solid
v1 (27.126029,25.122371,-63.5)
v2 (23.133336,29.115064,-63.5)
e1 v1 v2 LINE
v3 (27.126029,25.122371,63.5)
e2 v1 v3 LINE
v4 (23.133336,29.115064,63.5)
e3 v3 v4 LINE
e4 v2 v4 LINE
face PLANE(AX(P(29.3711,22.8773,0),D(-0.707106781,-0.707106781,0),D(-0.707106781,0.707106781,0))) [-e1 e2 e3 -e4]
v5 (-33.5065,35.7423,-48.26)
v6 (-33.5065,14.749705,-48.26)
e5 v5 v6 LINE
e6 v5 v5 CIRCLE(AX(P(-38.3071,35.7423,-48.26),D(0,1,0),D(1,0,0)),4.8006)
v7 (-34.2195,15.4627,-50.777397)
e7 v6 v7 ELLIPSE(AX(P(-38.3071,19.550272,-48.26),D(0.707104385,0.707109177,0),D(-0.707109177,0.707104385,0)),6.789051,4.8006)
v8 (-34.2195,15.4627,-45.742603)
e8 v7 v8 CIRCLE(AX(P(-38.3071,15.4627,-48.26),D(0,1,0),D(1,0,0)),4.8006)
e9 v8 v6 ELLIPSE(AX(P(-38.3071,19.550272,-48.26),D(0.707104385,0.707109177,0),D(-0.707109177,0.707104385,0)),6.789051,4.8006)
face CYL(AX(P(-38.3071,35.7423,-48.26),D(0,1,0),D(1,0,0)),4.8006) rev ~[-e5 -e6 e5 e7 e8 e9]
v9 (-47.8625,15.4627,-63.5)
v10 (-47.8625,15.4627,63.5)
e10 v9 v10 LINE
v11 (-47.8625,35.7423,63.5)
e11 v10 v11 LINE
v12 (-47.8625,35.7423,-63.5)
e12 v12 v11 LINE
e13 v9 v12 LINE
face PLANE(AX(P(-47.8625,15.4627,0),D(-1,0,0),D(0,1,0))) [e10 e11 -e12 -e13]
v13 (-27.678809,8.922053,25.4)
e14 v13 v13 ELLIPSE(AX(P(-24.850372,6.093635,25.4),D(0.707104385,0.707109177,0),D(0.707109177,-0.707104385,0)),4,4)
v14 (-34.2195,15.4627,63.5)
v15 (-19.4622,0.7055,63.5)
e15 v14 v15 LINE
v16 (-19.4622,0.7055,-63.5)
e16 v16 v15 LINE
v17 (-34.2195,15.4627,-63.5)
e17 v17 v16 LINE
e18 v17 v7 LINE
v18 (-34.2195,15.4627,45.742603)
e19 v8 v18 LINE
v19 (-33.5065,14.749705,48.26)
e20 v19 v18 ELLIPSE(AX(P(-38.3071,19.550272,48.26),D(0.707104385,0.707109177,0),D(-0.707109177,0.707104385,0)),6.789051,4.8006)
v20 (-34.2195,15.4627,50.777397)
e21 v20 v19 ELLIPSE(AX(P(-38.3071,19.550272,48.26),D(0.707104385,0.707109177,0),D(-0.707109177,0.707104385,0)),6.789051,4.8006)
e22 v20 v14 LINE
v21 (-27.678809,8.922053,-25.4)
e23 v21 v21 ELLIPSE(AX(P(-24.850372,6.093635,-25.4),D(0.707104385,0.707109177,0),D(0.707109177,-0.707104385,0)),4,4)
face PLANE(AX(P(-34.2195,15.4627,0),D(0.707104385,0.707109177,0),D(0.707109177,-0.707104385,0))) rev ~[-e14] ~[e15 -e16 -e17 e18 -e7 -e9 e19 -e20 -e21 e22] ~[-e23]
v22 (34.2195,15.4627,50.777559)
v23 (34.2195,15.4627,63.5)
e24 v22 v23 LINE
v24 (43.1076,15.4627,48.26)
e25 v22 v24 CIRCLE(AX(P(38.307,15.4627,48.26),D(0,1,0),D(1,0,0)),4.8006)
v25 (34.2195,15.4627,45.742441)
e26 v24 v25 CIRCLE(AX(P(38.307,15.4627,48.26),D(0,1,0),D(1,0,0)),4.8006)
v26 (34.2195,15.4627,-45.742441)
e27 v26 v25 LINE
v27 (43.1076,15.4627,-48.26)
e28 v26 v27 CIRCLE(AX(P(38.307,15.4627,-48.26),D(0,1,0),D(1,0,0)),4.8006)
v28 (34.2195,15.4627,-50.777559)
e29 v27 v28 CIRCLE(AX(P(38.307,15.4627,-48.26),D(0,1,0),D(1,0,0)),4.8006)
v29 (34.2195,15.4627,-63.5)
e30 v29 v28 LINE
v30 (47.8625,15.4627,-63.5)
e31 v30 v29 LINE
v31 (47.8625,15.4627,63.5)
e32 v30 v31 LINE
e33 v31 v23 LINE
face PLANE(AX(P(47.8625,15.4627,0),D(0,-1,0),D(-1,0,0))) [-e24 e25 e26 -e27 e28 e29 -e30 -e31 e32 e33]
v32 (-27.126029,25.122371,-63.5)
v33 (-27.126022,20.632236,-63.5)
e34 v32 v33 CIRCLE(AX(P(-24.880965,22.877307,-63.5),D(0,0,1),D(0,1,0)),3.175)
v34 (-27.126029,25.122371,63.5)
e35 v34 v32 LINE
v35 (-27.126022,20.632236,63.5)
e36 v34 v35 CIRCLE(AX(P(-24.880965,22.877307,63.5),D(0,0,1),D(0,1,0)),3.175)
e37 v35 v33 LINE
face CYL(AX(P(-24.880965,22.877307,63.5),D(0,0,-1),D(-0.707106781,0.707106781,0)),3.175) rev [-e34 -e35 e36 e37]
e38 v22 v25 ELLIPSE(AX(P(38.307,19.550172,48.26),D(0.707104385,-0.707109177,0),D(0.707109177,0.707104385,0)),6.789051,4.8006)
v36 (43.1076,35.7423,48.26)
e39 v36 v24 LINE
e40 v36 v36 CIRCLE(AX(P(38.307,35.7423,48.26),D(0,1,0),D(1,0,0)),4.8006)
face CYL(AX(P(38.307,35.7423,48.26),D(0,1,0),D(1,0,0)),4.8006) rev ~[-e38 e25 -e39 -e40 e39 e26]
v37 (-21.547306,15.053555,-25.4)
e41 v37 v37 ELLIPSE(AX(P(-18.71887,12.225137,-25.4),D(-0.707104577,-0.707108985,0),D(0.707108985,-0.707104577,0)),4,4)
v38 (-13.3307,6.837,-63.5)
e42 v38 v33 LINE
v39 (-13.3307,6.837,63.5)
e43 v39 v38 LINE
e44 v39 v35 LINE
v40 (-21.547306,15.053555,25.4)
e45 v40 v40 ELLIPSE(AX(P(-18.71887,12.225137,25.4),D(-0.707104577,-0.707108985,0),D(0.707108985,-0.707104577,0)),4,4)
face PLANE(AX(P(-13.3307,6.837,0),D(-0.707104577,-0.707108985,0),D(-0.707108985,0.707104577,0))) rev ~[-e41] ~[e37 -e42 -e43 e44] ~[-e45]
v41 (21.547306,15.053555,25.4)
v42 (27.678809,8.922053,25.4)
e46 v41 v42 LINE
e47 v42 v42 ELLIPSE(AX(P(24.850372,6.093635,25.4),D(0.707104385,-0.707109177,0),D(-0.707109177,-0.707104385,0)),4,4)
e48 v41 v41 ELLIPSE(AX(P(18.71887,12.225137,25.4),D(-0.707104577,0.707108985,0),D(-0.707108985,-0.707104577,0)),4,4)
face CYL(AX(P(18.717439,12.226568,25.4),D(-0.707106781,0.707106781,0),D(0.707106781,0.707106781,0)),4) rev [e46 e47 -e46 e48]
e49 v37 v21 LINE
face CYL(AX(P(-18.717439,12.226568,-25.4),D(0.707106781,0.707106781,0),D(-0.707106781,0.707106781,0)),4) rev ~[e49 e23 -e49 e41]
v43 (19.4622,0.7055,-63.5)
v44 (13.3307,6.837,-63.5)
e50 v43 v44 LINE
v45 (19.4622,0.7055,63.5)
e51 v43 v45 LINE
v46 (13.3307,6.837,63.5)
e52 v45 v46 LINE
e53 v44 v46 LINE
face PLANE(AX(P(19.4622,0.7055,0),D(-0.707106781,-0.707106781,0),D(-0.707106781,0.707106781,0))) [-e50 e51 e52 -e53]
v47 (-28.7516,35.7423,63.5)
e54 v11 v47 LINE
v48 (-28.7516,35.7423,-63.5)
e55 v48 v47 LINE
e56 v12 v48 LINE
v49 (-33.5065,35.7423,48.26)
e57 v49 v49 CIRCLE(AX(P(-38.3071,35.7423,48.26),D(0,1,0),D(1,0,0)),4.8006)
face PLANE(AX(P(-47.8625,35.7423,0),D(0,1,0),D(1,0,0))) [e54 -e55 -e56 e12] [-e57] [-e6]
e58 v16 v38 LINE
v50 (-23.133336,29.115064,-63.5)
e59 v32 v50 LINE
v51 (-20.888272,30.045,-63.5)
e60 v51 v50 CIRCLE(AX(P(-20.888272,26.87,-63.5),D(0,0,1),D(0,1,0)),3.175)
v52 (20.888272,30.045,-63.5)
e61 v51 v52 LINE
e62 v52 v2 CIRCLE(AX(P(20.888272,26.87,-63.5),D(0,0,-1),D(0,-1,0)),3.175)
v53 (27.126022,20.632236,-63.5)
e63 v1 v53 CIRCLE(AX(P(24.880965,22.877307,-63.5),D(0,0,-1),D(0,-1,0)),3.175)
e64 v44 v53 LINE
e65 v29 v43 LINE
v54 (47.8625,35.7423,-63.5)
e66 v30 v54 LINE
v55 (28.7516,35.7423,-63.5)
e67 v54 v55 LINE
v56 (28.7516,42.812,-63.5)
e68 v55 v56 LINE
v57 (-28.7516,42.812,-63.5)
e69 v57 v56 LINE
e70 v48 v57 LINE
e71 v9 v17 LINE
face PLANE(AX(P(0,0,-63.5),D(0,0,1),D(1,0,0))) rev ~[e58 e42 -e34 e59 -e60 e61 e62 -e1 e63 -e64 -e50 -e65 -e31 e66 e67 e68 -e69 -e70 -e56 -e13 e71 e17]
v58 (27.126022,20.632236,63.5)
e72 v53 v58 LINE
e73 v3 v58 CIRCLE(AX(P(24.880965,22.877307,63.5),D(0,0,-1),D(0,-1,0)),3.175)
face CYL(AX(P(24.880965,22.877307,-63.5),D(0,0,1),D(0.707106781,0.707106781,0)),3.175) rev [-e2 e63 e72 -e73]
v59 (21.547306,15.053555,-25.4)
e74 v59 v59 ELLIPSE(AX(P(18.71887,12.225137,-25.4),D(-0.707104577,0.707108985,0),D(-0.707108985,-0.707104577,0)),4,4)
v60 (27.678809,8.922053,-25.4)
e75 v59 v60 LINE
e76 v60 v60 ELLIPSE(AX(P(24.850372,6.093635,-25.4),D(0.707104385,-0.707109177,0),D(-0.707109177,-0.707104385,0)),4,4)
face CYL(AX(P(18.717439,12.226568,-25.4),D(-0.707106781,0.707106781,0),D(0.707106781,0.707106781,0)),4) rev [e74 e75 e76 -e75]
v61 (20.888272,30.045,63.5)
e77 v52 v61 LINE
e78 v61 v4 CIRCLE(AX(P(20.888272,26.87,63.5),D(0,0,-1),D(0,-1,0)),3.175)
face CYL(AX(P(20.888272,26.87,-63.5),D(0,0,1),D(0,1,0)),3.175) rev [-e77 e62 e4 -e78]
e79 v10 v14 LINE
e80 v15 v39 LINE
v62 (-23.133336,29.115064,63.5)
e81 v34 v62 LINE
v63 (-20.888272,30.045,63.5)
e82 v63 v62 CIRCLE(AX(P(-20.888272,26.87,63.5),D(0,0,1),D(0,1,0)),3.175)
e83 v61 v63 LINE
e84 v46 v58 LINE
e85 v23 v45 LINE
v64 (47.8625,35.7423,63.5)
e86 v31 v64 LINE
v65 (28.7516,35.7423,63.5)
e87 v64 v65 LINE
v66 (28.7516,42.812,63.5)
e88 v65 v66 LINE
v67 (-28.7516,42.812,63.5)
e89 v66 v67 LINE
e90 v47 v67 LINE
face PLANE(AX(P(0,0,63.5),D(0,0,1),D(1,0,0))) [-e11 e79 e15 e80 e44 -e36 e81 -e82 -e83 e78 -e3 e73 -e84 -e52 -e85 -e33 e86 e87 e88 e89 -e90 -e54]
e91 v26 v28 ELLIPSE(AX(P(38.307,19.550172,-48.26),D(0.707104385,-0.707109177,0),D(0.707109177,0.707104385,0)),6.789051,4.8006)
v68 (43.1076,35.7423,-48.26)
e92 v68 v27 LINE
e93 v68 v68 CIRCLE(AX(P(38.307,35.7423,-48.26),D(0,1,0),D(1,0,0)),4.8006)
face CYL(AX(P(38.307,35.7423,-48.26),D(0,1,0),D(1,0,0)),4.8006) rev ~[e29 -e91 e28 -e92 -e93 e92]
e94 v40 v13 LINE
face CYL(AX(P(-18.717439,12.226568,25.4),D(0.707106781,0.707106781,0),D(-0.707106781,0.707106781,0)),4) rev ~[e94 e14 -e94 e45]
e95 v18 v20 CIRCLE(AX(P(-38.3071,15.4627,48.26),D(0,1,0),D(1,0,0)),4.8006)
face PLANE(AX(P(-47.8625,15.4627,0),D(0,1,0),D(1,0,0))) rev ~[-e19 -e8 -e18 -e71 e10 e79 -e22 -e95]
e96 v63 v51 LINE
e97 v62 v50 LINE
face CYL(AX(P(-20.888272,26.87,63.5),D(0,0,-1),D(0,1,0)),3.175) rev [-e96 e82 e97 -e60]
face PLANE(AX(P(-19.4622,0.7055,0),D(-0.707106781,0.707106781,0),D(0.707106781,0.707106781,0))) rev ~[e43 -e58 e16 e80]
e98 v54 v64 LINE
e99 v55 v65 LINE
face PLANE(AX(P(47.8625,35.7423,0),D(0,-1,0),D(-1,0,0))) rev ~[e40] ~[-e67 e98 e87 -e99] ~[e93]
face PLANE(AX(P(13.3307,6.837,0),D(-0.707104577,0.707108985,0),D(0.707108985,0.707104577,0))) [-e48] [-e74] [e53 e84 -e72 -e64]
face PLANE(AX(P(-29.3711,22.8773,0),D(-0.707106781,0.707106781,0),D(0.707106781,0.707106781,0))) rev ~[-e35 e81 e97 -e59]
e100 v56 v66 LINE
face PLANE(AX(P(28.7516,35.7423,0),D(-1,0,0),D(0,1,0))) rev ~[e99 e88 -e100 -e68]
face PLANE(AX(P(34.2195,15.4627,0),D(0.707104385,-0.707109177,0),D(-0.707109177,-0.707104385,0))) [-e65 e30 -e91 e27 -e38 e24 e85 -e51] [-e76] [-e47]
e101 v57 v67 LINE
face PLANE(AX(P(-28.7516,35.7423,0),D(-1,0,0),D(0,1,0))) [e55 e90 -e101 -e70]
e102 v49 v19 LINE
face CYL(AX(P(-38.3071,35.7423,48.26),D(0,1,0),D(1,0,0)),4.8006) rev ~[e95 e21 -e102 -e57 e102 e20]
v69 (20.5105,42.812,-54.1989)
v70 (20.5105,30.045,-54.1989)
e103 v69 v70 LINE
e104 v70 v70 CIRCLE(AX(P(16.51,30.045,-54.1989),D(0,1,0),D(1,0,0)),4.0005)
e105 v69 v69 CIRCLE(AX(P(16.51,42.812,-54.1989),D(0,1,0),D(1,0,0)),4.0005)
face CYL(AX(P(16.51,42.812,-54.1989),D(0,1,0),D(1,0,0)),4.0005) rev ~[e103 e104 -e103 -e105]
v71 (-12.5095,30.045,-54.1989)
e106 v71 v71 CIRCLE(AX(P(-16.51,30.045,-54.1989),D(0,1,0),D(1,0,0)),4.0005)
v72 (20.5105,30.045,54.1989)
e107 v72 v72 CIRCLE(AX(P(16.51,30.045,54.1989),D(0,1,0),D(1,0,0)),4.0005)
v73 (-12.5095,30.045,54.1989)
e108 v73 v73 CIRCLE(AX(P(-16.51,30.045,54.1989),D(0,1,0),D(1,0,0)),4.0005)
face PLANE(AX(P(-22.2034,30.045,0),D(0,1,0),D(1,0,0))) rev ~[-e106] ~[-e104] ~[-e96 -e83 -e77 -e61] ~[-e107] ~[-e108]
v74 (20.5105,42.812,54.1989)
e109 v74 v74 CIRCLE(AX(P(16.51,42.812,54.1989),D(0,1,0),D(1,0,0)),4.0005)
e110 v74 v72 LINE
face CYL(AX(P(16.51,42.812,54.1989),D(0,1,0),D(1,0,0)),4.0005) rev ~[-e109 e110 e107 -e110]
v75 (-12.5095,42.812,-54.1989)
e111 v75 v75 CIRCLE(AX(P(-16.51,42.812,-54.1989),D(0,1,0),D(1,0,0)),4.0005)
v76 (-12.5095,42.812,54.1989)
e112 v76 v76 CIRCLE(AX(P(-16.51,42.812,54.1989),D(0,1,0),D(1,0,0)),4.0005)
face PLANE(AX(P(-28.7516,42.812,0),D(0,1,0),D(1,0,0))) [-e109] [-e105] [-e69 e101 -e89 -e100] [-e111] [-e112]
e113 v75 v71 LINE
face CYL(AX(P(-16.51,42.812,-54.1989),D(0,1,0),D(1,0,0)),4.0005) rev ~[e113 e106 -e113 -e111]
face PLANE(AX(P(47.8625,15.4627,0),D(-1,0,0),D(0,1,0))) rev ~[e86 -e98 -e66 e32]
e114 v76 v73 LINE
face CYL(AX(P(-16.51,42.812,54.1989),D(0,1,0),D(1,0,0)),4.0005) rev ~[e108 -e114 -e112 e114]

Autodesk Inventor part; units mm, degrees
ref_plane "Work Plane3" through (0, 0, 48.26) normal (0, 0, 1) x (1, 0, 0)
ref_plane "Work Plane4" through (0, 15.4627, 63.5) normal (-1, 0, 0) x (0, 0, 1)
sketch "Sketch1" plane through (0, 0, 0) normal (0, 0, 1) x (1, 0, 0)
  line L0 (0, 17.9605) -> (17.9605, 0) construction
  line L1 (17.9605, 0) -> (0, -17.9605) construction
  line L2 (0, -17.9605) -> (-17.9605, 0) construction
  line L3 (-17.9605, 0) -> (0, 17.9605) construction
  line L4 (0, 17.9605) -> (0, -17.9605) construction
  line L5 (17.9605, 0) -> (-17.9605, 0) construction
  line L6 (0, -37.7234) -> (0, 100.617) projected
  line L7 (-27.2882, 23.4644) -> (-11.7319, 7.908) construction
  line L8 (-11.7319, 7.908) -> (-6.7821, 12.8578) construction
  line L9 (-6.7821, 12.8578) -> (-22.3385, 28.4141) construction
  line L10 (-27.2882, 23.4644) -> (-22.3385, 28.4141) construction
  line L11 (27.2882, 23.4644) -> (11.7319, 7.908) construction
  line L12 (11.7319, 7.908) -> (6.7821, 12.8578) construction
  line L13 (6.7821, 12.8578) -> (22.3385, 28.4141) construction
  line L14 (27.2882, 23.4644) -> (22.3385, 28.4141) construction
  line L15 (-13.3307, 6.837) -> (-29.3711, 22.8773)
  line L16 (-29.3711, 22.8773) -> (-22.2034, 30.045)
  line L17 (-22.2034, 30.045) -> (0, 30.045)
  line L18 (-47.8625, 35.7423) -> (-28.7516, 35.7423)
  line L19 (-28.7516, 35.7423) -> (-28.7516, 42.812)
  line L20 (-28.7516, 42.812) -> (0, 42.812)
  line L21 (-47.8625, 15.4627) -> (-47.8625, 35.7423)
  line L22 (-47.8625, 15.4627) -> (-34.2195, 15.4627)
  line L23 (-34.2195, 15.4627) -> (-19.4622, 0.7055)
  line L24 (-19.4622, 0.7055) -> (-13.3307, 6.837)
  line L25 (13.3307, 6.837) -> (29.3711, 22.8773)
  line L26 (29.3711, 22.8773) -> (22.2034, 30.045)
  line L27 (22.2034, 30.045) -> (0, 30.045)
  line L28 (47.8625, 35.7423) -> (28.7516, 35.7423)
  line L29 (28.7516, 35.7423) -> (28.7516, 42.812)
  line L30 (28.7516, 42.812) -> (0, 42.812)
  line L31 (47.8625, 15.4627) -> (47.8625, 35.7423)
  line L32 (47.8625, 15.4627) -> (34.2195, 15.4627)
  line L33 (34.2195, 15.4627) -> (19.4622, 0.7055)
  line L34 (19.4622, 0.7055) -> (13.3307, 6.837)
  line L35 (-9.1166, 42.812) -> (-9.1166, 58.2918)
  line L36 (-9.1166, 58.2918) -> (0, 58.2918)
  point P0 (0, 0)
  point P1 (0, 0)
  point P2 (0, 0)
  point P3 (0, 0)
  dimension "d2" = 25.4
  dimension "d3" = 25.4
  dimension "d6" = 22
  dimension "d14" = 7
extrude "Carriage Frame" add sketch "Sketch1" along normal mid plane 127 contours L17 L16 L15 L24 L23 L22 L21 L18 L19 L20 L6 | L6 L30 L29 L28 L31 L32 L33 L34 L25 L26 L27
fillet "Fillet1" radius 3.175 4 edges at (-29.3711, 22.8773, 0) (-22.2034, 30.045, 0) (22.2034, 30.045, 0) (29.3711, 22.8773, 0)
sketch "Sketch7" plane through (-47.8625, 35.7423, -63.5) normal (0, 1, 0) x (1, 0, 0)
  line L0 (19.1109, 0) -> (76.6141, 0) projected
  line L1 (19.1109, 0) -> (19.1109, -127) projected
  line L2 (76.6141, -127) -> (19.1109, -127) projected
  line L3 (76.6141, 0) -> (76.6141, -127) projected
  line L4 (0, 0) -> (19.1109, 0) projected
  line L5 (0, 0) -> (0, -127) projected
  line L6 (19.1109, -127) -> (0, -127) projected
  line L7 (19.1109, 0) -> (19.1109, -127) projected
  line L8 (76.6141, 0) -> (95.725, 0) projected
  line L9 (76.6141, 0) -> (76.6141, -127) projected
  line L10 (95.725, -127) -> (76.6141, -127) projected
  line L11 (95.725, 0) -> (95.725, -127) projected
  line L12 (19.1109, -63.5) -> (76.6141, -63.5) construction
  line L13 (47.8625, -63.5) -> (47.8625, -63.5) construction
  line L14 (16.8262, -19.4378) -> (9.5554, -23.6355)
  line L15 (9.5554, -23.6355) -> (2.2847, -19.4378)
  line L16 (2.2847, -19.4378) -> (2.2847, -11.0422)
  line L17 (2.2847, -11.0422) -> (9.5554, -6.8445)
  line L18 (9.5554, -6.8445) -> (16.8262, -11.0422)
  line L19 (16.8262, -11.0422) -> (16.8262, -19.4378)
  line L20 (78.8988, -19.4378) -> (86.1695, -23.6355)
  line L21 (86.1695, -23.6355) -> (93.4403, -19.4378)
  line L22 (93.4403, -19.4378) -> (93.4403, -11.0422)
  line L23 (93.4403, -11.0422) -> (86.1695, -6.8445)
  line L24 (86.1695, -6.8445) -> (78.8988, -11.0422)
  line L25 (78.8988, -11.0422) -> (78.8988, -19.4378)
  line L26 (16.8262, -107.5622) -> (9.5554, -103.3645)
  line L27 (9.5554, -103.3645) -> (2.2847, -107.5622)
  line L28 (2.2847, -107.5622) -> (2.2847, -115.9578)
  line L29 (2.2847, -115.9578) -> (9.5554, -120.1555)
  line L30 (9.5554, -120.1555) -> (16.8262, -115.9578)
  line L31 (16.8262, -115.9578) -> (16.8262, -107.5622)
  line L32 (78.8988, -115.9578) -> (78.8988, -107.5622)
  line L33 (86.1695, -120.1555) -> (78.8988, -115.9578)
  line L34 (78.8988, -107.5622) -> (86.1695, -103.3645)
  line L35 (93.4403, -115.9578) -> (86.1695, -120.1555)
  line L36 (93.4403, -107.5622) -> (93.4403, -115.9578)
  line L37 (86.1695, -103.3645) -> (93.4403, -107.5622)
  circle A0 centre (9.5554, -15.24) radius 4.8006
  circle A1 centre (86.1695, -15.24) radius 4.8006
  circle A2 centre (9.5554, -111.76) radius 4.8006
  circle A3 centre (86.1695, -111.76) radius 4.8006
  point P0 (9.5554, 0)
  dimension "d61" = 15.24
  dimension "d78" = 14.5415
  dimension "d79" = 9.6012
extrude "Carriage Screw" cut sketch "Sketch7" against normal through all contours A0 | A1 | A2 | A3
sketch "Ball Bearings" plane through (-13.3307, 6.837, -63.5) normal (0.7071, 0.7071, 0) x (-0.7071, 0.7071, 0)
  line L0 (19.5095, 127) -> (19.5095, 0) projected
  line L1 (0, 127) -> (19.5095, 127) projected
  line L2 (0, 0) -> (0, 127) projected
  line L3 (19.5095, 0) -> (0, 0) projected
  circle A0 centre (7.62, 88.9) radius 4
  line L4 (19.5095, 63.5) -> (0, 63.5) construction
  circle A1 centre (7.62, 38.1) radius 4
  point P0 (-14.2607, 63.5)
  dimension "d94" = 8
  dimension "d106" = 25.4
  dimension "d107" = 7.62
ref_plane "Carriage Mid Plane" through (0, 15.4627, -63.5) normal (-1, 0, 0) x (0, 0, 1)
extrude "Ball Bearing Hole" cut sketch "Ball Bearings" against normal up to surface (8.6713 mm away) contours A0 | A1
mirror "Mirror4" about plane through (0, 15.4627, -63.5) normal (-1, 0, 0) of "Ball Bearing Hole"
sketch "Sketch23" plane through (-28.7516, 42.812, 63.5) normal (0, 1, 0) x (1, 0, 0)
  circle A0 centre (12.2416, 117.6989) radius 4.0005
  line L0 (28.7516, 152.4) -> (28.7516, -25.4) projected
  circle A1 centre (45.2616, 117.6989) radius 4.0005
  line L1 (-38.2559, 63.5) -> (95.7591, 63.5) projected
  circle A2 centre (12.2416, 9.3011) radius 4.0005
  circle A3 centre (45.2616, 9.3011) radius 4.0005
  point P0 (28.7516, 63.5)
  dimension "d141" = 8.001
  dimension "d144" = 33.02
extrude "Extrusion20" cut sketch "Sketch23" against normal blind 16.6853
sketch "Sketch19" plane through (0, 0, 63.5) normal (0, 0, 1) x (1, 0, 0)
  line L0 (-47.8625, 15.4627) -> (-34.2195, 15.4627) projected
  line L1 (-34.2195, 15.4627) -> (-19.4622, 0.7055) projected
  line L2 (-19.4622, 0.7055) -> (-13.3307, 6.837) projected
  line L3 (-13.3307, 6.837) -> (-27.126, 20.6323) projected
  arc A0 (-27.126, 25.1224) -> (-27.126, 20.6323) centre (-24.8809, 22.8773) ccw projected
  line L4 (-27.126, 25.1224) -> (-23.1333, 29.1151) projected
  arc A1 (-20.8883, 30.045) -> (-23.1333, 29.1151) centre (-20.8883, 26.87) ccw projected
  line L5 (-20.8883, 30.045) -> (20.8883, 30.045) projected
  arc A2 (23.1333, 29.1151) -> (20.8883, 30.045) centre (20.8883, 26.87) ccw projected
  line L6 (23.1333, 29.1151) -> (27.126, 25.1224) projected
  arc A3 (27.126, 20.6323) -> (27.126, 25.1224) centre (24.8809, 22.8773) ccw projected
  line L7 (27.126, 20.6323) -> (13.3307, 6.837) projected
  line L8 (13.3307, 6.837) -> (19.4622, 0.7055) projected
  line L9 (19.4622, 0.7055) -> (34.2195, 15.4627) projected
  line L10 (34.2195, 15.4627) -> (47.8625, 15.4627) projected
  line L11 (47.8625, 15.4627) -> (47.8625, 35.7423) projected
  line L12 (47.8625, 35.7423) -> (28.7516, 35.7423) projected
  line L13 (28.7516, 35.7423) -> (28.7516, 42.812) projected
  line L14 (28.7516, 42.812) -> (-28.7516, 42.812) projected
  line L15 (-28.7516, 42.812) -> (-28.7516, 35.7423) projected
  line L16 (-28.7516, 35.7423) -> (-47.8625, 35.7423) projected
  line L17 (-47.8625, 35.7423) -> (-47.8625, 15.4627) projected
  line L18 (-28.7516, 35.7423) -> (28.7516, 35.7423)
  point P0 (0, 0)
sketch "Sketch20" plane through (0, 0, 0) normal (0, 0, 1) x (1, 0, 0)
  line L0 (-47.8625, 35.7423) -> (47.8625, 35.7423) projected
  line L1 (47.8625, 35.7423) -> (47.8625, 15.4627) projected
  line L2 (47.8625, 15.4627) -> (34.2195, 15.4627) projected
  line L3 (34.2195, 15.4627) -> (19.4622, 0.7055) projected
  line L4 (19.4622, 0.7055) -> (13.3307, 6.837) projected
  line L5 (13.3307, 6.837) -> (27.126, 20.6323) projected
  arc A0 (27.126, 20.6323) -> (27.126, 25.1224) centre (24.8809, 22.8773) ccw projected
  line L6 (27.126, 25.1224) -> (23.1333, 29.1151) projected
  arc A1 (23.1333, 29.1151) -> (20.8883, 30.045) centre (20.8883, 26.87) ccw projected
  line L7 (20.8883, 30.045) -> (-20.8883, 30.045) projected
  arc A2 (-20.8883, 30.045) -> (-23.1333, 29.1151) centre (-20.8883, 26.87) ccw projected
  line L8 (-23.1333, 29.1151) -> (-27.126, 25.1224) projected
  arc A3 (-27.126, 25.1224) -> (-27.126, 20.6323) centre (-24.8809, 22.8773) ccw projected
  line L9 (-27.126, 20.6323) -> (-13.3307, 6.837) projected
  line L10 (-13.3307, 6.837) -> (-19.4622, 0.7055) projected
  line L11 (-19.4622, 0.7055) -> (-34.2195, 15.4627) projected
  line L12 (-34.2195, 15.4627) -> (-47.8625, 15.4627) projected
  line L13 (-47.8625, 15.4627) -> (-47.8625, 35.7423) projected
  line L14 (0, -16.1708) -> (0, 97.0249) projected
  line L15 (-12.7, 35.7423) -> (-12.7, 61.1423)
  line L16 (-12.7, 61.1423) -> (0, 61.1423)
  line L17 (12.7, 35.7423) -> (12.7, 61.1423)
  line L18 (12.7, 61.1423) -> (0, 61.1423)
  point P0 (0, 0)
  dimension "d131" = 25.4
  dimension "d132" = 12.7
  dimension "d135" = 14.5542
  dimension "d136" = 9.6012
sketch "Sketch13" plane through (0, 0, 63.5) normal (0, 0, 1) x (1, 0, 0)
  line L0 (47.8625, 35.7423) -> (28.7516, 35.7423) projected
  line L1 (28.7516, 35.7423) -> (28.7516, 42.812) projected
  line L2 (28.7516, 42.812) -> (-28.7516, 42.812) projected
  line L3 (-28.7516, 42.812) -> (-28.7516, 35.7423) projected
  line L4 (-28.7516, 35.7423) -> (-47.8625, 35.7423) projected
  line L5 (-47.8625, 35.7423) -> (-47.8625, 15.4627) projected
  line L6 (-47.8625, 15.4627) -> (-34.2195, 15.4627) projected
  line L7 (-34.2195, 15.4627) -> (-19.4622, 0.7055) projected
  line L8 (-19.4622, 0.7055) -> (-13.3307, 6.837) projected
  line L9 (-13.3307, 6.837) -> (-27.126, 20.6323) projected
  arc A0 (-27.126, 25.1224) -> (-27.126, 20.6323) centre (-24.8809, 22.8773) ccw projected
  line L10 (-27.126, 25.1224) -> (-23.1333, 29.1151) projected
  arc A1 (-20.8883, 30.045) -> (-23.1333, 29.1151) centre (-20.8883, 26.87) ccw projected
  line L11 (-20.8883, 30.045) -> (20.8883, 30.045) projected
  arc A2 (23.1333, 29.1151) -> (20.8883, 30.045) centre (20.8883, 26.87) ccw projected
  line L12 (23.1333, 29.1151) -> (27.126, 25.1224) projected
  arc A3 (27.126, 20.6323) -> (27.126, 25.1224) centre (24.8809, 22.8773) ccw projected
  line L13 (27.126, 20.6323) -> (13.3307, 6.837) projected
  line L14 (13.3307, 6.837) -> (19.4622, 0.7055) projected
  line L15 (19.4622, 0.7055) -> (34.2195, 15.4627) projected
  line L16 (34.2195, 15.4627) -> (47.8625, 15.4627) projected
  line L17 (47.8625, 15.4627) -> (47.8625, 35.7423) projected
  line L18 (-3.175, 42.812) -> (3.175, 42.812)
  line L19 (3.175, 42.812) -> (3.175, 35.1375)
  line L20 (3.175, 35.1375) -> (-3.175, 35.1375)
  line L21 (-3.175, 35.1375) -> (-3.175, 42.812)
  point P0 (0, 0)
  point P1 (0, 42.812)
  point P2 (0, 42.812)
  dimension "d112" = 6.35
sketch "Sketch15" plane through (0, 0, 48.26) normal (0, 0, 1) x (1, 0, 0)
  line L0 (-3.175, 35.1375) -> (-3.175, 42.812) projected
  line L1 (-3.175, 42.812) -> (-28.7516, 42.812) projected
  line L2 (-28.7516, 42.812) -> (-28.7516, 35.7423) projected
  line L3 (-28.7516, 35.7423) -> (-47.8625, 35.7423) projected
  line L4 (-47.8625, 35.7423) -> (-47.8625, 15.4627) projected
  line L5 (-47.8625, 15.4627) -> (-34.2195, 15.4627) projected
  line L6 (-34.2195, 15.4627) -> (-19.4622, 0.7055) projected
  line L7 (-19.4622, 0.7055) -> (-13.3307, 6.837) projected
  line L8 (-13.3307, 6.837) -> (-27.126, 20.6323) projected
  arc A0 (-27.126, 25.1224) -> (-27.126, 20.6323) centre (-24.8809, 22.8773) ccw projected
  line L9 (-27.126, 25.1224) -> (-23.1333, 29.1151) projected
  arc A1 (-20.8883, 30.045) -> (-23.1333, 29.1151) centre (-20.8883, 26.87) ccw projected
  line L10 (-20.8883, 30.045) -> (20.8883, 30.045) projected
  arc A2 (23.1333, 29.1151) -> (20.8883, 30.045) centre (20.8883, 26.87) ccw projected
  line L11 (23.1333, 29.1151) -> (27.126, 25.1224) projected
  arc A3 (27.126, 20.6323) -> (27.126, 25.1224) centre (24.8809, 22.8773) ccw projected
  line L12 (27.126, 20.6323) -> (13.3307, 6.837) projected
  line L13 (13.3307, 6.837) -> (19.4622, 0.7055) projected
  line L14 (19.4622, 0.7055) -> (34.2195, 15.4627) projected
  line L15 (34.2195, 15.4627) -> (47.8625, 15.4627) projected
  line L16 (47.8625, 15.4627) -> (47.8625, 35.7423) projected
  line L17 (47.8625, 35.7423) -> (28.7516, 35.7423) projected
  line L18 (28.7516, 35.7423) -> (28.7516, 42.812) projected
  line L19 (28.7516, 42.812) -> (3.175, 42.812) projected
  line L20 (3.175, 42.812) -> (3.175, 35.1375) projected
  line L21 (3.175, 35.1375) -> (-3.175, 35.1375) projected
  line L22 (-3.175, 42.812) -> (-3.175, 80.5116) construction
  line L23 (-3.175, 80.5116) -> (3.175, 80.5116) construction
  line L24 (3.175, 42.812) -> (3.175, 80.5116) construction
  line L25 (-47.8625, 35.7423) -> (-47.8625, 49.9547)
  line L26 (-47.8625, 49.9547) -> (-17.7931, 49.9547)
  line L27 (-17.7931, 49.9547) -> (-17.7931, 73.4726)
  line L28 (-17.7931, 73.4726) -> (-3.175, 73.4726)
  line L29 (-3.175, 73.4726) -> (-3.175, 42.812)
  line L30 (-28.7516, 42.812) -> (-28.7516, 35.7423)
  point P0 (0, 0)
sketch "Sketch16" plane through (-47.8625, 49.9547, 58.42) normal (0, 1, 0) x (1, 0, 0)
  circle A0 centre (9.5554, 10.16) radius 4.8006 projected
  point P0 (47.8625, 58.42)
sketch "Sketch17" plane through (-17.7931, 49.9547, 58.42) normal (-1, 0, 0) x (0, 0, 1)
  line L0 (-20.32, 0) -> (0, 0) projected
  line L1 (0, 23.5178) -> (0, 0) projected
  line L2 (-20.32, 23.5178) -> (0, 23.5178) projected
  line L3 (-20.32, 0) -> (-20.32, 23.5178) projected
  circle A0 centre (-10.16, 11.7589) radius 4
  point P0 (-58.42, -49.9547)
  point P1 (-10.16, 23.5178)
  point P2 (0, 11.7589)
  dimension "d122" = 8
equation "\"carriage_length\" = 127"
equation "\"ball_bearing_diam\" = 22"
equation "\"ball_bearing_hole\" = 8"
equation "\"d92\" = 8"
properties part number "universal_carriage" material "ABS Plastic"
